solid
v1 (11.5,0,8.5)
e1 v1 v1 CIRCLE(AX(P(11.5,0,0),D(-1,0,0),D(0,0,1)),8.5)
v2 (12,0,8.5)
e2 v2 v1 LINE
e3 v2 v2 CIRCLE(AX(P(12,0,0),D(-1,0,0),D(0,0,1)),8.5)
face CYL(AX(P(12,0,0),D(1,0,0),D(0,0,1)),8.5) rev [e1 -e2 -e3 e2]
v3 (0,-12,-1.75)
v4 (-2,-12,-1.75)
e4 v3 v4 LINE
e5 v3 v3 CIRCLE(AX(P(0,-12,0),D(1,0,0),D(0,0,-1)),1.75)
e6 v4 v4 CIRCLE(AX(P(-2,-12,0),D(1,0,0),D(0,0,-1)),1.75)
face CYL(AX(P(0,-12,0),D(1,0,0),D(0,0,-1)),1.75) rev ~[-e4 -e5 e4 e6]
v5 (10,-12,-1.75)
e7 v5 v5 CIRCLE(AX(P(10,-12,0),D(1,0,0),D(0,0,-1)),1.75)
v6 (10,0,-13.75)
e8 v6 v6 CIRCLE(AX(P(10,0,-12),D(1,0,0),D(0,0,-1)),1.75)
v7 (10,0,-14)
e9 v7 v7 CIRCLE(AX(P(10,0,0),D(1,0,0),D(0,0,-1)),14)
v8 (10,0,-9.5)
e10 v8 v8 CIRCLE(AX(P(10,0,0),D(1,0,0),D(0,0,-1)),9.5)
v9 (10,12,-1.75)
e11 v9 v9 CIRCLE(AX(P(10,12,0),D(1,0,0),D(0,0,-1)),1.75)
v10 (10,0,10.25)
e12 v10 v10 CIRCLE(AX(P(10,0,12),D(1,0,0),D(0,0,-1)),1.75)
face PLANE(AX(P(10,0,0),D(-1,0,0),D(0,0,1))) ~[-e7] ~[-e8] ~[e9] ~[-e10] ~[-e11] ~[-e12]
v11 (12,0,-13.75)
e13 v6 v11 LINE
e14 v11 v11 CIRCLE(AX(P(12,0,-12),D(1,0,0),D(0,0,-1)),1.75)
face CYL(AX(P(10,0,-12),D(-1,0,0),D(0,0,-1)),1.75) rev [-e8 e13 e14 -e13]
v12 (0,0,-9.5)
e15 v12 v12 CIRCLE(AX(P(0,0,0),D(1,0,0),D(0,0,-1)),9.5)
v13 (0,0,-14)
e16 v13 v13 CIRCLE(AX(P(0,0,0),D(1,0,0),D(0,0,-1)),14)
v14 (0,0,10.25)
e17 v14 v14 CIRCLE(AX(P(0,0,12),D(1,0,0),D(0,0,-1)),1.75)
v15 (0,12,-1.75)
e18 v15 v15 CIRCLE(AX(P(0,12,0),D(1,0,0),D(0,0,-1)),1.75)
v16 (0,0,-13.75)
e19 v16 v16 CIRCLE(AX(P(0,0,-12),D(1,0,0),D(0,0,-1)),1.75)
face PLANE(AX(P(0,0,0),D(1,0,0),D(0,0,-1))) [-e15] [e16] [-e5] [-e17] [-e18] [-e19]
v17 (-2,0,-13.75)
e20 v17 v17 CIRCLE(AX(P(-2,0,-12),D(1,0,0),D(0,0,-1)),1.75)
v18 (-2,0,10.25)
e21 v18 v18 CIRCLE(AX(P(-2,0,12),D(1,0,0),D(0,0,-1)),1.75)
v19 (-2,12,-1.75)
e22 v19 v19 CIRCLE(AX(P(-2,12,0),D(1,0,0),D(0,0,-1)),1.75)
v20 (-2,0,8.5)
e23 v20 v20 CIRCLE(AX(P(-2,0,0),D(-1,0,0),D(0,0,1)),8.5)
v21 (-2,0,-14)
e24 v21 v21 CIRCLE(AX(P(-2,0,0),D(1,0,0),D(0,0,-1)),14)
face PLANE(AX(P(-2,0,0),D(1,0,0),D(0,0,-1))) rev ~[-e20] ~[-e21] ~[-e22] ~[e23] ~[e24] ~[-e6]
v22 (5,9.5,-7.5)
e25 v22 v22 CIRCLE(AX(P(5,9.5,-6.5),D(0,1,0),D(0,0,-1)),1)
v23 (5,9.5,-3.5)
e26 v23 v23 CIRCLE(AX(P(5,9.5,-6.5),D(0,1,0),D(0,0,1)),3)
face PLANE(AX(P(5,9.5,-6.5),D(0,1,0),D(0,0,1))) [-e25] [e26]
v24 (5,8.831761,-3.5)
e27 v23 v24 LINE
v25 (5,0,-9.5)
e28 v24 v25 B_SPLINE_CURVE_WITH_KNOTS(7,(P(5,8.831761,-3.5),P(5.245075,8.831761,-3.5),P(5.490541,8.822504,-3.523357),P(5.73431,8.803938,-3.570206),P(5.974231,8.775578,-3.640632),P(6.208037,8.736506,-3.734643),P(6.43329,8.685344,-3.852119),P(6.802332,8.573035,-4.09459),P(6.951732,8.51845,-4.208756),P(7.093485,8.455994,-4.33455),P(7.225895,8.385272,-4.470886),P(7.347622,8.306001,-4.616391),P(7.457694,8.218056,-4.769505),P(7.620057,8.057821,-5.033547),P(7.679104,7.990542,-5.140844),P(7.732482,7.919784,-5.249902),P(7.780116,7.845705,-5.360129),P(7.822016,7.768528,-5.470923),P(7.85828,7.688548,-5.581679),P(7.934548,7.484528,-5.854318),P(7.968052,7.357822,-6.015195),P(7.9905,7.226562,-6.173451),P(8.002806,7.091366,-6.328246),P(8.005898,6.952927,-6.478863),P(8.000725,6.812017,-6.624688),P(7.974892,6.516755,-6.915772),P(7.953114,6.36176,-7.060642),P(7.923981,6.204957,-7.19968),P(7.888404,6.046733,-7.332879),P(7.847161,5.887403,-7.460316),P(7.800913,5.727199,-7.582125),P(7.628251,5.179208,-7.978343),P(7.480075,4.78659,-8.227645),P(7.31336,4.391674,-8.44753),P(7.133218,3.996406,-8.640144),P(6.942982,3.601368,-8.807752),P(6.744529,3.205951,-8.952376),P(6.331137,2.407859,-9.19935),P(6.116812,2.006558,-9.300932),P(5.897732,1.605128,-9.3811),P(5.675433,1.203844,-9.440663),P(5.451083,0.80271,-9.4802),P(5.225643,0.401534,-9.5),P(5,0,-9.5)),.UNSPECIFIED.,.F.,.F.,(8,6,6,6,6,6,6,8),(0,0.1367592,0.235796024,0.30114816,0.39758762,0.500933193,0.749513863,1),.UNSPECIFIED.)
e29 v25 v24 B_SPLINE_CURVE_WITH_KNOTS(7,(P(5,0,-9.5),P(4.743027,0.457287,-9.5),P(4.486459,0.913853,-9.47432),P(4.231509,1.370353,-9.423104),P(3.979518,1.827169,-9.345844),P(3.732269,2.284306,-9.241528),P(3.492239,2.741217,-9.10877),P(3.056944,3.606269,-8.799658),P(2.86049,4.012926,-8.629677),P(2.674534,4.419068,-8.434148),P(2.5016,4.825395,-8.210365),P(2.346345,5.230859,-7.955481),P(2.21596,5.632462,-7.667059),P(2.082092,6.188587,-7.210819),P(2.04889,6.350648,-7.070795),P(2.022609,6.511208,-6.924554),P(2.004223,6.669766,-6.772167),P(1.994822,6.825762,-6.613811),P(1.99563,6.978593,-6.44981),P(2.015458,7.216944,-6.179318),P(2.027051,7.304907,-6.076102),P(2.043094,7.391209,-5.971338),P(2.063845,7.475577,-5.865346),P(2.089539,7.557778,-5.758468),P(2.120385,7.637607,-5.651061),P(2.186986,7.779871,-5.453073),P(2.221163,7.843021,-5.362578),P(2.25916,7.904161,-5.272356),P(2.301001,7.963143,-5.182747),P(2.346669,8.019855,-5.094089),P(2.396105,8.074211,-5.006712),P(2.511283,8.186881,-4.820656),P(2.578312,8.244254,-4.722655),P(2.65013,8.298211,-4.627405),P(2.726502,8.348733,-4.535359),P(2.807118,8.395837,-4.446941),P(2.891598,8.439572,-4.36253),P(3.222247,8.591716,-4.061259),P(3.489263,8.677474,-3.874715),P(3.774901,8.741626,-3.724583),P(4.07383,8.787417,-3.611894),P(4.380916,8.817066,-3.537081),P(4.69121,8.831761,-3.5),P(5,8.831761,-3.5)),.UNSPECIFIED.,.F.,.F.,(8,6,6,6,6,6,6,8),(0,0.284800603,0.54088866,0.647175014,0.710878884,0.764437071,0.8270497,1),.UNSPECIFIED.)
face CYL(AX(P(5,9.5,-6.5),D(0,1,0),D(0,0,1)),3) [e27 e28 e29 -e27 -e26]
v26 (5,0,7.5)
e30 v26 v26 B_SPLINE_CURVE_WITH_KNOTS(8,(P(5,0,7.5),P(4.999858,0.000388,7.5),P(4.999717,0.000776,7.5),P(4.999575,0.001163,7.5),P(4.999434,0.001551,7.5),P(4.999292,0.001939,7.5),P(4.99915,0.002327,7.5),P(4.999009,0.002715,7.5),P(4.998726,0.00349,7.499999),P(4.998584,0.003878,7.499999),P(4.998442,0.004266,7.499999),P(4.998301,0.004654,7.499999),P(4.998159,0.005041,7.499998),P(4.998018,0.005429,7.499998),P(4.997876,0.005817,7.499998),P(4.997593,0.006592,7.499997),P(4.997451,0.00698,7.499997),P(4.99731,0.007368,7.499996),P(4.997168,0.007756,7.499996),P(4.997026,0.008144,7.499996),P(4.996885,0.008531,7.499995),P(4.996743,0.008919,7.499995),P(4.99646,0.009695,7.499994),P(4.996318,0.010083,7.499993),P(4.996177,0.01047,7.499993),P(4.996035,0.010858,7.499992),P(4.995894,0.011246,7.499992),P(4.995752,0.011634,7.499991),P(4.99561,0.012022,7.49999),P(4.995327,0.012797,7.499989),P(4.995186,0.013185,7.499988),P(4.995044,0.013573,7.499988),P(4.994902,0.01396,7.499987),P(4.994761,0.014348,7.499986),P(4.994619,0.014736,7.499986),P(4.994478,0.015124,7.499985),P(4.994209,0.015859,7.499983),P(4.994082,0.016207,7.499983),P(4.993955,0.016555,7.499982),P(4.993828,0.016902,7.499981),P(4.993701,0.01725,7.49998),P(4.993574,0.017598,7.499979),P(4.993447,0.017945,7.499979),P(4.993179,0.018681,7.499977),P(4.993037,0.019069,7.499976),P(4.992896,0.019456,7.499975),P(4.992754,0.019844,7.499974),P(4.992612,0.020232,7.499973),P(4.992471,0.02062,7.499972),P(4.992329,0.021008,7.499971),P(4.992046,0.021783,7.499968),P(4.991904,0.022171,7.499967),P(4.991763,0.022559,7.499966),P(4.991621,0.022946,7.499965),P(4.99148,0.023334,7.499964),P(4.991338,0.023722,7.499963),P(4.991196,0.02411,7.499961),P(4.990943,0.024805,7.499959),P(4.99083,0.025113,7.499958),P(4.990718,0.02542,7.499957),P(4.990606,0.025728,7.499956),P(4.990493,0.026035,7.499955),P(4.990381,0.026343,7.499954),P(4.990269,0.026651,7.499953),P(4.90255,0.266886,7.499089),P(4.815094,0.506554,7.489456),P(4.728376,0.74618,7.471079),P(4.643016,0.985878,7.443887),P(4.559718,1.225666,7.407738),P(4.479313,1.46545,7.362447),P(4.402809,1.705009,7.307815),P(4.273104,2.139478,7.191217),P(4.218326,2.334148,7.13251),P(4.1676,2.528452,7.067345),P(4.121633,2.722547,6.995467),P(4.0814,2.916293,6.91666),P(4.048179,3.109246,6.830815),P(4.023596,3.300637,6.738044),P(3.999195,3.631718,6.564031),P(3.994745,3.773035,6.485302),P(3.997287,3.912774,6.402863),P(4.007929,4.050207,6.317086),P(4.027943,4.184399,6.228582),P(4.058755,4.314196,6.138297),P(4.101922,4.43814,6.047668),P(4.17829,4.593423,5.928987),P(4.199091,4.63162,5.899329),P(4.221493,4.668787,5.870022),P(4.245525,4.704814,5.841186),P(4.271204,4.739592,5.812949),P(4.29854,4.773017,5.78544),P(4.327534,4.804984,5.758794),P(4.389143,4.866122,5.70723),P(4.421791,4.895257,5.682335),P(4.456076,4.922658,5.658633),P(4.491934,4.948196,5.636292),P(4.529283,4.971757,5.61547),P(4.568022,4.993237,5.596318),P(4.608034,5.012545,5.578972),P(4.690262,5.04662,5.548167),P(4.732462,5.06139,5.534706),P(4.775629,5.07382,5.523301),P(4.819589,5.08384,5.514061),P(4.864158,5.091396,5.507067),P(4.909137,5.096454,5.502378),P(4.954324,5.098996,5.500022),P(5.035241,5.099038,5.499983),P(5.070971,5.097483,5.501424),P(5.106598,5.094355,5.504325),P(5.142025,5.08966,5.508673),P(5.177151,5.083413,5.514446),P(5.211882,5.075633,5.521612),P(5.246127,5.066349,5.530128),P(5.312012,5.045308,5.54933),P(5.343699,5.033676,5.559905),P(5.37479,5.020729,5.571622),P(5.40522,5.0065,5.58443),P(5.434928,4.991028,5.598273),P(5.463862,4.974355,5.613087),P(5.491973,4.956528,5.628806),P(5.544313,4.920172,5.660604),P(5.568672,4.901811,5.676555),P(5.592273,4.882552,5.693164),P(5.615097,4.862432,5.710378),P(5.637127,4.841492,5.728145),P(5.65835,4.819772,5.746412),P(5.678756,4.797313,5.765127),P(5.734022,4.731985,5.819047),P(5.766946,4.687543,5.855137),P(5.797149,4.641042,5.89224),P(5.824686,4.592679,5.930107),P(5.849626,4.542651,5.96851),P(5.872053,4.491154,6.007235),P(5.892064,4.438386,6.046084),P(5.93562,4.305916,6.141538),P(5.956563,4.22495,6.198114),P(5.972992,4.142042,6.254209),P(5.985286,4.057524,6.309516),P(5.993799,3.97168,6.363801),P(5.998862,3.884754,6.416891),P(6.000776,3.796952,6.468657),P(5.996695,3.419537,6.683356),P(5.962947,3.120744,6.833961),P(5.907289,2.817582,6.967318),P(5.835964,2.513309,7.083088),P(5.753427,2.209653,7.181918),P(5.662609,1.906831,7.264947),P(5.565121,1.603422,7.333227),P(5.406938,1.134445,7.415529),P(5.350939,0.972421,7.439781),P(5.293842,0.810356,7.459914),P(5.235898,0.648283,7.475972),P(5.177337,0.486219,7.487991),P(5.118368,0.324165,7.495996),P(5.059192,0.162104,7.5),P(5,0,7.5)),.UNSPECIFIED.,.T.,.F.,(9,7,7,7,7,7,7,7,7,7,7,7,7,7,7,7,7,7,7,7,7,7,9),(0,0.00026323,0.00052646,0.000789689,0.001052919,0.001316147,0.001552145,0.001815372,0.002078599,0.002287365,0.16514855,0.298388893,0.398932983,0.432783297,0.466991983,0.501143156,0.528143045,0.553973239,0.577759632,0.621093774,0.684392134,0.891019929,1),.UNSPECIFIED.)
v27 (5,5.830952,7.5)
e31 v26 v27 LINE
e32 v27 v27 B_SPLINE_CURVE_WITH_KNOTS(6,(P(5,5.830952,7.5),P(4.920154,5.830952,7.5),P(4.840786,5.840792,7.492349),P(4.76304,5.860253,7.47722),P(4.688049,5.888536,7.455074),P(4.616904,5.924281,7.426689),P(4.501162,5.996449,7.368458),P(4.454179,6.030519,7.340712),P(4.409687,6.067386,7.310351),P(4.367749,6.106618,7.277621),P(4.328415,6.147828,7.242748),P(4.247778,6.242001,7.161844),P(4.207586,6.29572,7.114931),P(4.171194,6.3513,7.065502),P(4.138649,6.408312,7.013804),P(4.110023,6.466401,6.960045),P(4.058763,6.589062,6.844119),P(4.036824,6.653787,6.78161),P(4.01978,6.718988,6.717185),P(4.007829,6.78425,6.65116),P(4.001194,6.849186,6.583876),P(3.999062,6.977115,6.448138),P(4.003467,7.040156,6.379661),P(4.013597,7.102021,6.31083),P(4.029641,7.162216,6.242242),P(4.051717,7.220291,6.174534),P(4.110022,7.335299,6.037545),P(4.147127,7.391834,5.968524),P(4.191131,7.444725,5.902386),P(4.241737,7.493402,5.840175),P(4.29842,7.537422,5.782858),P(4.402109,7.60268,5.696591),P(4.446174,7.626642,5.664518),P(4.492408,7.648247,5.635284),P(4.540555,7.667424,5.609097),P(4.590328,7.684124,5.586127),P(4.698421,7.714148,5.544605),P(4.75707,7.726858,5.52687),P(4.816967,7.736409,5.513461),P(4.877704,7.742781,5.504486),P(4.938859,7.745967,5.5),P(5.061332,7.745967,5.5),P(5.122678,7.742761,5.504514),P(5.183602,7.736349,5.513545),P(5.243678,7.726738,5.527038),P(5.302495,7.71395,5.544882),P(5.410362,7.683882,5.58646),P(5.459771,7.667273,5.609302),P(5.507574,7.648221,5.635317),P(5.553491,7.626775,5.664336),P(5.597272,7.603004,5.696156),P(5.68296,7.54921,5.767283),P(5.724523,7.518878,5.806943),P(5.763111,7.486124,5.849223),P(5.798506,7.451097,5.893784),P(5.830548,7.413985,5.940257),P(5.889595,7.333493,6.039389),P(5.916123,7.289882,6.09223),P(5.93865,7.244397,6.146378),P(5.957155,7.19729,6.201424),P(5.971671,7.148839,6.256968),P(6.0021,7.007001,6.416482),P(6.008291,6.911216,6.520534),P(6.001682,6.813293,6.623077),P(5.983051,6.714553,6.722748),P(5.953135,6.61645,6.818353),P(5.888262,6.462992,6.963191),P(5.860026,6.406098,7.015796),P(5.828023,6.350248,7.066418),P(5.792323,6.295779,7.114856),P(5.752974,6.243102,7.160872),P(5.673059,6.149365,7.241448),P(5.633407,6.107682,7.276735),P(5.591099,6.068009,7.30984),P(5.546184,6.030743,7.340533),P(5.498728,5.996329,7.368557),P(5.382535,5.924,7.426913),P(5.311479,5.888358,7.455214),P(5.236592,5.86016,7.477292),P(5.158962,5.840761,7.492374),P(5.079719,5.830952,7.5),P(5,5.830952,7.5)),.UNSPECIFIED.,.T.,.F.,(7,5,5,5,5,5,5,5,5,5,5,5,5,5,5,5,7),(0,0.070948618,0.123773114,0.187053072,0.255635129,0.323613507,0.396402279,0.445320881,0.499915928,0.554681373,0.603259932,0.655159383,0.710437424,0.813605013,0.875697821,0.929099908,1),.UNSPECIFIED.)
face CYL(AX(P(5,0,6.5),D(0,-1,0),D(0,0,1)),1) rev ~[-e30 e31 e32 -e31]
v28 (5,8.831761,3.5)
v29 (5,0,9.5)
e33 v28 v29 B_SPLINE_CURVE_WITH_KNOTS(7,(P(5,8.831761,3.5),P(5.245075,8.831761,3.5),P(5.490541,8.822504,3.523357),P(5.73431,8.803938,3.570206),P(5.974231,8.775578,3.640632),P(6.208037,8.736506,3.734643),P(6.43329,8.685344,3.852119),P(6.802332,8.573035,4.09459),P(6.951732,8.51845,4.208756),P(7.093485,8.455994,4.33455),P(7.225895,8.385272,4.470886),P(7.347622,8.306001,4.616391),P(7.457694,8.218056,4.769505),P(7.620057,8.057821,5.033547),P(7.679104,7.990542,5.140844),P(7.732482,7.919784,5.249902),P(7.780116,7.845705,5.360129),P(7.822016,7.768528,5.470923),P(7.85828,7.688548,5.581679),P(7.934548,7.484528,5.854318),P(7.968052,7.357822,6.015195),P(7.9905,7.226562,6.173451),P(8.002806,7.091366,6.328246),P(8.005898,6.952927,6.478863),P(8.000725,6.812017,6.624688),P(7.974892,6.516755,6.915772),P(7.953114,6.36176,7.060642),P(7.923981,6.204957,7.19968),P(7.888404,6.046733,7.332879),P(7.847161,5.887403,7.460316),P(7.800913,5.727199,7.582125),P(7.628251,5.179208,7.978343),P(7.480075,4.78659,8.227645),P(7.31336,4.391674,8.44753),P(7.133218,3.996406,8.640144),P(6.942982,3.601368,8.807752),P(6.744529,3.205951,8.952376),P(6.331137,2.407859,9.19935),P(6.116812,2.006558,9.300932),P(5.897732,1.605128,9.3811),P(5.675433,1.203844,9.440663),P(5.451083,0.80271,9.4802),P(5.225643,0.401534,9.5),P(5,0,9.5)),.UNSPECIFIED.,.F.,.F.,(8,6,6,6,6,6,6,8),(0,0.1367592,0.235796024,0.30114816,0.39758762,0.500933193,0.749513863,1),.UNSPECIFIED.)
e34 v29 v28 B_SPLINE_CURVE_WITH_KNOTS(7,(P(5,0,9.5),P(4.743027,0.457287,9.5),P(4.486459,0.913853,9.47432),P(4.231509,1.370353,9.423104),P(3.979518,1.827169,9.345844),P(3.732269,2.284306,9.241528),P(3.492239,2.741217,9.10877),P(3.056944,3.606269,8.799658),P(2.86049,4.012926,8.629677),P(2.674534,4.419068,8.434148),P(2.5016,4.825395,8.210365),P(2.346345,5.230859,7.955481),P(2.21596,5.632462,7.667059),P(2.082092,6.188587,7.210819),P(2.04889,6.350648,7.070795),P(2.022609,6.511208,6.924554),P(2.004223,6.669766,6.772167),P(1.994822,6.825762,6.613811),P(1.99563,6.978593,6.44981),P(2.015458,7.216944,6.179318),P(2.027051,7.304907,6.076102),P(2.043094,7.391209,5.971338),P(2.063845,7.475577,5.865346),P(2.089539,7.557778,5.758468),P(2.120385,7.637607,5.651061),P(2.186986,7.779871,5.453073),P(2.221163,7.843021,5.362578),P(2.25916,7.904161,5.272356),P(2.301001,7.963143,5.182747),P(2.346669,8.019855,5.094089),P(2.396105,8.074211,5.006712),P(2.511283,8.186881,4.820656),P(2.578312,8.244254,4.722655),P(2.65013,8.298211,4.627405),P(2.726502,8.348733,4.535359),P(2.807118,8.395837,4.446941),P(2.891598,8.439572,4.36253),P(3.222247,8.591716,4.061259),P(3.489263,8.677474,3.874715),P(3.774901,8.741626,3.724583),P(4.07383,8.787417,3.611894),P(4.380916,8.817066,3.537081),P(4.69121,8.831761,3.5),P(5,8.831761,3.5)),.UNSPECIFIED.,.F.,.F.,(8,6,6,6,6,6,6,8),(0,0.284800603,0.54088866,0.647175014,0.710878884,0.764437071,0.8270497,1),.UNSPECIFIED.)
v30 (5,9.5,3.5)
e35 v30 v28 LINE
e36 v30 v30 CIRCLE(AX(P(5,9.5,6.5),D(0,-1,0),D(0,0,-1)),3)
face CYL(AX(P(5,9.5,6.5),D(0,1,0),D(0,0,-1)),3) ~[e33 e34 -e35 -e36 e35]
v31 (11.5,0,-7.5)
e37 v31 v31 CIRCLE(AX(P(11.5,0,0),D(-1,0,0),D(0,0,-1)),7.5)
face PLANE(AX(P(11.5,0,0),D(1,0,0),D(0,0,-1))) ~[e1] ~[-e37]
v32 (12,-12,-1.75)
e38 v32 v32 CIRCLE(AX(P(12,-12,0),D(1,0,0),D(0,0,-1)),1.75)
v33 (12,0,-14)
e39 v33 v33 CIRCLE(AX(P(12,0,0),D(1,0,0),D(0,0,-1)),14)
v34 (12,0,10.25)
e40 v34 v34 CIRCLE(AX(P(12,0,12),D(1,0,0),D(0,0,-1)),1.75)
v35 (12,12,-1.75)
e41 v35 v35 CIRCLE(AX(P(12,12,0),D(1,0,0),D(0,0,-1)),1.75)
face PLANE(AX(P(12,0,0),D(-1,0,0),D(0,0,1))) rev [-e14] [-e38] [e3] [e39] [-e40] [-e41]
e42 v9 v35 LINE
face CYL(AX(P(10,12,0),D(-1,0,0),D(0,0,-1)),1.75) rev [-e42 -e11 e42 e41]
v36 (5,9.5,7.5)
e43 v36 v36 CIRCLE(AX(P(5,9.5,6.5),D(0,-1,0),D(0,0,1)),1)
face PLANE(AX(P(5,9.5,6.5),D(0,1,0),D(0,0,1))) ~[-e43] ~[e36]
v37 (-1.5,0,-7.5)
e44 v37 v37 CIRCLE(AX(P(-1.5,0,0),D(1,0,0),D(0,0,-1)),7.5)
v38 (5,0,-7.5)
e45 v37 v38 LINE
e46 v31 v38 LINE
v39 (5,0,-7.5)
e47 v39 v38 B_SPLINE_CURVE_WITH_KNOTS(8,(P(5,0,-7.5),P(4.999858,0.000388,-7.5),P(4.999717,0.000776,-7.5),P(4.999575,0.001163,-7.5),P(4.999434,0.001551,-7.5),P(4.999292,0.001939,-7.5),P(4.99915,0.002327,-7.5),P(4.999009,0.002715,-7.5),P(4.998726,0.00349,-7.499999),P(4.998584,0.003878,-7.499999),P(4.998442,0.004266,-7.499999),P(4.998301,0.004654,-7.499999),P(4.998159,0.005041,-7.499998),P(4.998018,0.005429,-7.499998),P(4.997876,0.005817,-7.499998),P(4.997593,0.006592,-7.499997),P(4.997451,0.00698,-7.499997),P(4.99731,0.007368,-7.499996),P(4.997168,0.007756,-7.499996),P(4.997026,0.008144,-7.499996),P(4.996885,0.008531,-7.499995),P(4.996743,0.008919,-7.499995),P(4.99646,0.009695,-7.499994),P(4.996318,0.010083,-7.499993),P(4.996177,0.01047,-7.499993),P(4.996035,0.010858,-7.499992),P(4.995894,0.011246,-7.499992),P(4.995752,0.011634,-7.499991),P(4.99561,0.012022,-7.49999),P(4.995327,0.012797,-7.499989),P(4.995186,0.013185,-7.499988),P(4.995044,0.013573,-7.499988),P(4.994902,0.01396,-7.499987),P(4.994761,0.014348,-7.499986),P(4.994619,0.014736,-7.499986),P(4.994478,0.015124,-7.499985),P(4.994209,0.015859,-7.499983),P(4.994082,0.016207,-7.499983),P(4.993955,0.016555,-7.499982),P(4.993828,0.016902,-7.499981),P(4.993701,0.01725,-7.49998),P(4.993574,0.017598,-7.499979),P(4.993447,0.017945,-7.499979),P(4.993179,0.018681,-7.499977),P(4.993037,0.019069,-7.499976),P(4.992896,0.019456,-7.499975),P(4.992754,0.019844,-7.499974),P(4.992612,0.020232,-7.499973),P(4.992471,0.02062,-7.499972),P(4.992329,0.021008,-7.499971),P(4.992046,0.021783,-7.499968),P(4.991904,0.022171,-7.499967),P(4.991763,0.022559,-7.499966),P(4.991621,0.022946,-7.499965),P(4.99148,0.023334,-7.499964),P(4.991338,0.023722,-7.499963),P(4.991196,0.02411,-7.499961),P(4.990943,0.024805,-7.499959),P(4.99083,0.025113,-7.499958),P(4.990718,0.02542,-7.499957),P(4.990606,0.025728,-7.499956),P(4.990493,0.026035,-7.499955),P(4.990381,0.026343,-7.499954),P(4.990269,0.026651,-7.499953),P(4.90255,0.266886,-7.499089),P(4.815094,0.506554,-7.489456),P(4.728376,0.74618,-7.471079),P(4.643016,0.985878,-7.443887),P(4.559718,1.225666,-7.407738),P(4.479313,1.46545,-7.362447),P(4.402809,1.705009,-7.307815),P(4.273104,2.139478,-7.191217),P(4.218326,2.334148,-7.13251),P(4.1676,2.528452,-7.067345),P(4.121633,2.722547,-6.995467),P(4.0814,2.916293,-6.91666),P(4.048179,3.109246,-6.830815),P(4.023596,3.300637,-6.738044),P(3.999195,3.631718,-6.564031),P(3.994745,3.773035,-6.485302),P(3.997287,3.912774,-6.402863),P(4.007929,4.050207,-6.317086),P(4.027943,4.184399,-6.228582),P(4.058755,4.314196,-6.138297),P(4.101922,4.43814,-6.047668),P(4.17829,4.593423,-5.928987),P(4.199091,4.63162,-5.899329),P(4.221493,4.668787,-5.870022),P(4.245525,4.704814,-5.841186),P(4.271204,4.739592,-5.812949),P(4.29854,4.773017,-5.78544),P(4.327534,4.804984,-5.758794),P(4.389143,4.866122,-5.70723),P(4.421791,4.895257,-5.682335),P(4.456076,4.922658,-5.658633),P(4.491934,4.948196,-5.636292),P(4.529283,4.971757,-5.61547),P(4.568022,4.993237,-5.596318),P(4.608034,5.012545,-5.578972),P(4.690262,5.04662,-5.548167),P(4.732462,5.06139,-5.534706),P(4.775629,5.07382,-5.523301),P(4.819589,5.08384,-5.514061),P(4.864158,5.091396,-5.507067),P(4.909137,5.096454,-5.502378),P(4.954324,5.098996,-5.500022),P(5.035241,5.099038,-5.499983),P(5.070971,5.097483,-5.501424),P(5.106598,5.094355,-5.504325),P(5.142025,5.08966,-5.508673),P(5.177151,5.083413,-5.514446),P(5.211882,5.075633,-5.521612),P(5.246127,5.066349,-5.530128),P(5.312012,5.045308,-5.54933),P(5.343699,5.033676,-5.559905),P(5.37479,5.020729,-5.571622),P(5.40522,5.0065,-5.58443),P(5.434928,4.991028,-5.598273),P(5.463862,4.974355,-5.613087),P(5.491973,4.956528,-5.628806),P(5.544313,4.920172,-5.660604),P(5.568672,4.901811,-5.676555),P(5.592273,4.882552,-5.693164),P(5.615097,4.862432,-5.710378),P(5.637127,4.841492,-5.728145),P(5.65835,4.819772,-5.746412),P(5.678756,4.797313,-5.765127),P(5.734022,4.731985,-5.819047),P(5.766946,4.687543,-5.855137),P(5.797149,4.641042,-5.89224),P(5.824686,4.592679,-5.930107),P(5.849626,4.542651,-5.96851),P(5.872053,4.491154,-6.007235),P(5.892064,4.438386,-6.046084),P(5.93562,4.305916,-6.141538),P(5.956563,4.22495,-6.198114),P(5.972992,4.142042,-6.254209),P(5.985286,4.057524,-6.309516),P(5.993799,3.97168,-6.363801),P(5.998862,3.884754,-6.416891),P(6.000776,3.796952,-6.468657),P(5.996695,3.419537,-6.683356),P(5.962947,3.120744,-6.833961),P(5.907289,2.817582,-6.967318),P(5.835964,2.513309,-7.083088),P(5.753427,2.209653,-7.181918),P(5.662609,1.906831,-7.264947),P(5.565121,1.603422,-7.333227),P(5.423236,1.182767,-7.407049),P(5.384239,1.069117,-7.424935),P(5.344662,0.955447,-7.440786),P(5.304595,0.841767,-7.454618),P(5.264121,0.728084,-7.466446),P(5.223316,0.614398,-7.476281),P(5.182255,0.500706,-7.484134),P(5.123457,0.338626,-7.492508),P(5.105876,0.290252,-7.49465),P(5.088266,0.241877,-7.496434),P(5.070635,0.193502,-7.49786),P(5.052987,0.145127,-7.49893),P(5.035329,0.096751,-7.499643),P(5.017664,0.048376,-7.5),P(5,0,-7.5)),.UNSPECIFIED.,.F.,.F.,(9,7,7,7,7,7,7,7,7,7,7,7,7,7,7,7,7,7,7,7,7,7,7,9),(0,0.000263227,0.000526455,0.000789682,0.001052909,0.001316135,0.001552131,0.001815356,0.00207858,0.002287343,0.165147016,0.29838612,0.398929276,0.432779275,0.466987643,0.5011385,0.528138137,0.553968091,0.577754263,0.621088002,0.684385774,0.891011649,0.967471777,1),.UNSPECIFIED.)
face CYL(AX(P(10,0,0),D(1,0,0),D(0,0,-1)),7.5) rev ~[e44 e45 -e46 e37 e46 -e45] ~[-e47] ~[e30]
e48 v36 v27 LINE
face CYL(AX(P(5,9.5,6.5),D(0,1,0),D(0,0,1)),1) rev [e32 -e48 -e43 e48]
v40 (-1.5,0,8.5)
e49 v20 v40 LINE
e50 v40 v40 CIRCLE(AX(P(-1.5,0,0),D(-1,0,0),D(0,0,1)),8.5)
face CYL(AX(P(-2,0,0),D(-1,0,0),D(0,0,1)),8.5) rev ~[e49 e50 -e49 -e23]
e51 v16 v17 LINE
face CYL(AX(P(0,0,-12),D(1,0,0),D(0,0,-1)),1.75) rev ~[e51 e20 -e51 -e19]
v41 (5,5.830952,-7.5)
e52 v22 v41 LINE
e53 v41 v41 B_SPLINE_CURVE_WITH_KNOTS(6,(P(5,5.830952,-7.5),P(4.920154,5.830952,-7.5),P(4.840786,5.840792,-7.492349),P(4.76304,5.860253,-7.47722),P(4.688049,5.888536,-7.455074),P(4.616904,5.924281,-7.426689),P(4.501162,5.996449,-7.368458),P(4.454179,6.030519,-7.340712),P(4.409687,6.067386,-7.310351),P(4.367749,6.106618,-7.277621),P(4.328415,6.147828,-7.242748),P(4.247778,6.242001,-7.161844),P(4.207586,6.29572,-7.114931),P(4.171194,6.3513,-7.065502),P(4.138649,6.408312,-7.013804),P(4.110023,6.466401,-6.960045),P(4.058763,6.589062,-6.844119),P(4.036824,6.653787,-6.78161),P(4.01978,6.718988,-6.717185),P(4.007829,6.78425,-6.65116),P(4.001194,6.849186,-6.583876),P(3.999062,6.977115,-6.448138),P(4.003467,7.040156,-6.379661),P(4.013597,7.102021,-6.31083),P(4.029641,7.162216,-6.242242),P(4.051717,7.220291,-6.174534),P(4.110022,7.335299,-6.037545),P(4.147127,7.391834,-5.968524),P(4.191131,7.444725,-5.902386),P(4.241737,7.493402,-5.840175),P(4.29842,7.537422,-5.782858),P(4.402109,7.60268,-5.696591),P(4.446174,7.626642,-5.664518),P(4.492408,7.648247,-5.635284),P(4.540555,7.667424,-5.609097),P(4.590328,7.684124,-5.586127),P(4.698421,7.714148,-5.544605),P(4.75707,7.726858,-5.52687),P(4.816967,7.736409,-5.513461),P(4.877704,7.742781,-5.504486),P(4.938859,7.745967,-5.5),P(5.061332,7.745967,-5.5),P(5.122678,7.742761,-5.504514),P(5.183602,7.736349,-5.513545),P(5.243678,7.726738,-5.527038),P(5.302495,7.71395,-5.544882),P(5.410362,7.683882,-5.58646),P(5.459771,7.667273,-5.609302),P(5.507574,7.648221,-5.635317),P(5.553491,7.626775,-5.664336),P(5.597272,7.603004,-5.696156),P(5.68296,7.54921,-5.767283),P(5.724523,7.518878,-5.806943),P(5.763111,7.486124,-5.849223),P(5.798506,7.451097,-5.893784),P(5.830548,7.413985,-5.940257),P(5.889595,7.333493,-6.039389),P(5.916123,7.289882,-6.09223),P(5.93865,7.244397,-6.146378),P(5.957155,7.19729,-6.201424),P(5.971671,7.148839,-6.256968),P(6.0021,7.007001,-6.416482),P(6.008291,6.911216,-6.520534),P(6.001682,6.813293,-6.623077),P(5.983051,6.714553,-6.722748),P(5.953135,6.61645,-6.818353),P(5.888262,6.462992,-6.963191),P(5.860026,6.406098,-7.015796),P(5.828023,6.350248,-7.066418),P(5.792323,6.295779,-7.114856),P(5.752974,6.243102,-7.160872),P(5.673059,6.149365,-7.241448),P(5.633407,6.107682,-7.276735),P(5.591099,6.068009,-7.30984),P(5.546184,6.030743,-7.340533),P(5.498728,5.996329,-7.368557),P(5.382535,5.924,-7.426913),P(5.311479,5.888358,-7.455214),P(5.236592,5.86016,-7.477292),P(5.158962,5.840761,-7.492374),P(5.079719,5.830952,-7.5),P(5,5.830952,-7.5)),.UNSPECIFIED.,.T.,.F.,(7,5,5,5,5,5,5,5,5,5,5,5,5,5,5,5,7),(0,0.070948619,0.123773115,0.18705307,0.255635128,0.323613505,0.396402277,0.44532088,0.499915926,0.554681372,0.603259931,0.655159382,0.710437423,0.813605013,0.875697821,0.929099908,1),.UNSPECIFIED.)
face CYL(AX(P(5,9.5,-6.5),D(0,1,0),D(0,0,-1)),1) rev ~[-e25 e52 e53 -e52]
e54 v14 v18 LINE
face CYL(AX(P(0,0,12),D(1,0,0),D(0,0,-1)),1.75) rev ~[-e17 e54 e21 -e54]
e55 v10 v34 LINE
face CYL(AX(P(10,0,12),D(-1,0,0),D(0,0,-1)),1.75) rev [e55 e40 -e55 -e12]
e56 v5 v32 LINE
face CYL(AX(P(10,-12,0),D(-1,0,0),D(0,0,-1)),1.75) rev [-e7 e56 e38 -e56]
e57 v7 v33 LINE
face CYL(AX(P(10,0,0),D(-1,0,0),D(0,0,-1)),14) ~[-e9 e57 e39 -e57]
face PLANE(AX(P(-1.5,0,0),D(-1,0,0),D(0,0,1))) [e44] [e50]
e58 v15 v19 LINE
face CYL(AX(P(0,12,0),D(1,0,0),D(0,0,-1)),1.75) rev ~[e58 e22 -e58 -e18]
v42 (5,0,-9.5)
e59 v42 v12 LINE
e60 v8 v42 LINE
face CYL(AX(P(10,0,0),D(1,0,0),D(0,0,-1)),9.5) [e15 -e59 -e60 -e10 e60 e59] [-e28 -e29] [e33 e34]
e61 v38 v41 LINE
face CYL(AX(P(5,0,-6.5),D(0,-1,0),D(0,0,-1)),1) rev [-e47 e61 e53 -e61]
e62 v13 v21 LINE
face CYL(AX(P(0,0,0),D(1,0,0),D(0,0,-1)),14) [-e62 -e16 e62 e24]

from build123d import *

# Parameters (mm, degrees)
SKETCH2_R                = 14
SKETCH2_R_2              = 1.75
SKETCH2_R_3              = 7.5
FLANGE_DEPTH             = 2
SKETCH3_R                = 8.5
O_RING_SEAT_DEPTH        = 0.5
BOSS_EXTRUDE1_START      = 10
SKETCH4_R                = 9.5
SKETCH4_R_2              = 7.5
BOSS_EXTRUDE1_DEPTH      = 10
SKETCH5_R                = 1
OUTLET_DEPTH             = 24.151673806
BOSS_EXTRUDE2_REACH      = 31.871
BOSS_EXTRUDE2_END_RADIUS = 9.5
SKETCH6_R                = 3
SKETCH6_R_2              = 1


with BuildPart() as part:
    # Sketch2 → Flange (new body)
    with BuildSketch(Plane(origin=(0, 0, 0), x_dir=(0, 0, -1), z_dir=(1, 0, 0))):
        Circle(SKETCH2_R)
        with Locations((0, 12)):
            Circle(SKETCH2_R_2, mode=Mode.SUBTRACT)
        with Locations((12, 0)):
            Circle(SKETCH2_R_2, mode=Mode.SUBTRACT)
        with Locations((0, -12)):
            Circle(SKETCH2_R_2, mode=Mode.SUBTRACT)
        with Locations((-12, 0)):
            Circle(SKETCH2_R_2, mode=Mode.SUBTRACT)
        Circle(SKETCH2_R_3, mode=Mode.SUBTRACT)
    flange = extrude(amount=-FLANGE_DEPTH)

    # Sketch3 → O-Ring Seat (cut)
    with BuildSketch(Plane.ZY.offset(2)):
        Circle(SKETCH3_R)
    o_ring_seat = extrude(amount=-O_RING_SEAT_DEPTH, mode=Mode.SUBTRACT)

    # Sketch4 → Boss-Extrude1 (add)
    with BuildSketch(Plane(origin=(0, 0, 0), x_dir=(0, 0, -1), z_dir=(1, 0, 0)).offset(BOSS_EXTRUDE1_START)):
        Circle(SKETCH4_R)
        Circle(SKETCH4_R_2, mode=Mode.SUBTRACT)
    extrude(amount=-BOSS_EXTRUDE1_DEPTH)

    # Mirror1: Flange, O-Ring Seat across plane
    add(flange.mirror(Plane(origin=(5, 0, 0), x_dir=(0, 0, 1), z_dir=(1, 0, 0))))
    add(o_ring_seat.mirror(Plane(origin=(5, 0, 0), x_dir=(0, 0, 1), z_dir=(1, 0, 0))), mode=Mode.SUBTRACT)

    # Sketch5 → Outlet (cut, through all)
    with BuildSketch(Plane(origin=(0, 0, 0), x_dir=(1, 0, 0), z_dir=(0, 1, 0))):
        with Locations(Location((5, 6.5, 0), (0, 0, 90))):
            Circle(SKETCH5_R)
    outlet = extrude(amount=OUTLET_DEPTH, mode=Mode.SUBTRACT)

    # Boss-Extrude2: up to this cylinder (the profile starts outside it)
    boss_extrude2_end = Plane(origin=(5, 0, 0), z_dir=(-1, 0, 0)) * Cylinder(BOSS_EXTRUDE2_END_RADIUS, 83.742, mode=Mode.PRIVATE)
    # Sketch6 → Boss-Extrude2 (add, up to the surface)
    with BuildSketch(Plane(origin=(0, 9.5, 0), x_dir=(1, 0, 0), z_dir=(0, 1, 0)), mode=Mode.PRIVATE) as boss_extrude2_sk1:
        with Locations(Location((5, 6.5, 0), (0, 0, 270))):
            Circle(SKETCH6_R)
        with Locations(Location((5, 6.5, 0), (0, 0, 90))):
            Circle(SKETCH6_R_2, mode=Mode.SUBTRACT)
    boss_extrude2_tool1 = extrude(boss_extrude2_sk1.sketch, amount=-BOSS_EXTRUDE2_REACH, mode=Mode.PRIVATE) - boss_extrude2_end
    boss_extrude2 = boss_extrude2_tool1.solids().sort_by_distance((5, 9.5, -9.415147))[0]
    add(boss_extrude2)

    # Inlet: Outlet, Boss-Extrude2 across plane
    add(outlet.mirror(Plane.XY), mode=Mode.SUBTRACT)
    add(boss_extrude2.mirror(Plane.XY))


solid = part.part
